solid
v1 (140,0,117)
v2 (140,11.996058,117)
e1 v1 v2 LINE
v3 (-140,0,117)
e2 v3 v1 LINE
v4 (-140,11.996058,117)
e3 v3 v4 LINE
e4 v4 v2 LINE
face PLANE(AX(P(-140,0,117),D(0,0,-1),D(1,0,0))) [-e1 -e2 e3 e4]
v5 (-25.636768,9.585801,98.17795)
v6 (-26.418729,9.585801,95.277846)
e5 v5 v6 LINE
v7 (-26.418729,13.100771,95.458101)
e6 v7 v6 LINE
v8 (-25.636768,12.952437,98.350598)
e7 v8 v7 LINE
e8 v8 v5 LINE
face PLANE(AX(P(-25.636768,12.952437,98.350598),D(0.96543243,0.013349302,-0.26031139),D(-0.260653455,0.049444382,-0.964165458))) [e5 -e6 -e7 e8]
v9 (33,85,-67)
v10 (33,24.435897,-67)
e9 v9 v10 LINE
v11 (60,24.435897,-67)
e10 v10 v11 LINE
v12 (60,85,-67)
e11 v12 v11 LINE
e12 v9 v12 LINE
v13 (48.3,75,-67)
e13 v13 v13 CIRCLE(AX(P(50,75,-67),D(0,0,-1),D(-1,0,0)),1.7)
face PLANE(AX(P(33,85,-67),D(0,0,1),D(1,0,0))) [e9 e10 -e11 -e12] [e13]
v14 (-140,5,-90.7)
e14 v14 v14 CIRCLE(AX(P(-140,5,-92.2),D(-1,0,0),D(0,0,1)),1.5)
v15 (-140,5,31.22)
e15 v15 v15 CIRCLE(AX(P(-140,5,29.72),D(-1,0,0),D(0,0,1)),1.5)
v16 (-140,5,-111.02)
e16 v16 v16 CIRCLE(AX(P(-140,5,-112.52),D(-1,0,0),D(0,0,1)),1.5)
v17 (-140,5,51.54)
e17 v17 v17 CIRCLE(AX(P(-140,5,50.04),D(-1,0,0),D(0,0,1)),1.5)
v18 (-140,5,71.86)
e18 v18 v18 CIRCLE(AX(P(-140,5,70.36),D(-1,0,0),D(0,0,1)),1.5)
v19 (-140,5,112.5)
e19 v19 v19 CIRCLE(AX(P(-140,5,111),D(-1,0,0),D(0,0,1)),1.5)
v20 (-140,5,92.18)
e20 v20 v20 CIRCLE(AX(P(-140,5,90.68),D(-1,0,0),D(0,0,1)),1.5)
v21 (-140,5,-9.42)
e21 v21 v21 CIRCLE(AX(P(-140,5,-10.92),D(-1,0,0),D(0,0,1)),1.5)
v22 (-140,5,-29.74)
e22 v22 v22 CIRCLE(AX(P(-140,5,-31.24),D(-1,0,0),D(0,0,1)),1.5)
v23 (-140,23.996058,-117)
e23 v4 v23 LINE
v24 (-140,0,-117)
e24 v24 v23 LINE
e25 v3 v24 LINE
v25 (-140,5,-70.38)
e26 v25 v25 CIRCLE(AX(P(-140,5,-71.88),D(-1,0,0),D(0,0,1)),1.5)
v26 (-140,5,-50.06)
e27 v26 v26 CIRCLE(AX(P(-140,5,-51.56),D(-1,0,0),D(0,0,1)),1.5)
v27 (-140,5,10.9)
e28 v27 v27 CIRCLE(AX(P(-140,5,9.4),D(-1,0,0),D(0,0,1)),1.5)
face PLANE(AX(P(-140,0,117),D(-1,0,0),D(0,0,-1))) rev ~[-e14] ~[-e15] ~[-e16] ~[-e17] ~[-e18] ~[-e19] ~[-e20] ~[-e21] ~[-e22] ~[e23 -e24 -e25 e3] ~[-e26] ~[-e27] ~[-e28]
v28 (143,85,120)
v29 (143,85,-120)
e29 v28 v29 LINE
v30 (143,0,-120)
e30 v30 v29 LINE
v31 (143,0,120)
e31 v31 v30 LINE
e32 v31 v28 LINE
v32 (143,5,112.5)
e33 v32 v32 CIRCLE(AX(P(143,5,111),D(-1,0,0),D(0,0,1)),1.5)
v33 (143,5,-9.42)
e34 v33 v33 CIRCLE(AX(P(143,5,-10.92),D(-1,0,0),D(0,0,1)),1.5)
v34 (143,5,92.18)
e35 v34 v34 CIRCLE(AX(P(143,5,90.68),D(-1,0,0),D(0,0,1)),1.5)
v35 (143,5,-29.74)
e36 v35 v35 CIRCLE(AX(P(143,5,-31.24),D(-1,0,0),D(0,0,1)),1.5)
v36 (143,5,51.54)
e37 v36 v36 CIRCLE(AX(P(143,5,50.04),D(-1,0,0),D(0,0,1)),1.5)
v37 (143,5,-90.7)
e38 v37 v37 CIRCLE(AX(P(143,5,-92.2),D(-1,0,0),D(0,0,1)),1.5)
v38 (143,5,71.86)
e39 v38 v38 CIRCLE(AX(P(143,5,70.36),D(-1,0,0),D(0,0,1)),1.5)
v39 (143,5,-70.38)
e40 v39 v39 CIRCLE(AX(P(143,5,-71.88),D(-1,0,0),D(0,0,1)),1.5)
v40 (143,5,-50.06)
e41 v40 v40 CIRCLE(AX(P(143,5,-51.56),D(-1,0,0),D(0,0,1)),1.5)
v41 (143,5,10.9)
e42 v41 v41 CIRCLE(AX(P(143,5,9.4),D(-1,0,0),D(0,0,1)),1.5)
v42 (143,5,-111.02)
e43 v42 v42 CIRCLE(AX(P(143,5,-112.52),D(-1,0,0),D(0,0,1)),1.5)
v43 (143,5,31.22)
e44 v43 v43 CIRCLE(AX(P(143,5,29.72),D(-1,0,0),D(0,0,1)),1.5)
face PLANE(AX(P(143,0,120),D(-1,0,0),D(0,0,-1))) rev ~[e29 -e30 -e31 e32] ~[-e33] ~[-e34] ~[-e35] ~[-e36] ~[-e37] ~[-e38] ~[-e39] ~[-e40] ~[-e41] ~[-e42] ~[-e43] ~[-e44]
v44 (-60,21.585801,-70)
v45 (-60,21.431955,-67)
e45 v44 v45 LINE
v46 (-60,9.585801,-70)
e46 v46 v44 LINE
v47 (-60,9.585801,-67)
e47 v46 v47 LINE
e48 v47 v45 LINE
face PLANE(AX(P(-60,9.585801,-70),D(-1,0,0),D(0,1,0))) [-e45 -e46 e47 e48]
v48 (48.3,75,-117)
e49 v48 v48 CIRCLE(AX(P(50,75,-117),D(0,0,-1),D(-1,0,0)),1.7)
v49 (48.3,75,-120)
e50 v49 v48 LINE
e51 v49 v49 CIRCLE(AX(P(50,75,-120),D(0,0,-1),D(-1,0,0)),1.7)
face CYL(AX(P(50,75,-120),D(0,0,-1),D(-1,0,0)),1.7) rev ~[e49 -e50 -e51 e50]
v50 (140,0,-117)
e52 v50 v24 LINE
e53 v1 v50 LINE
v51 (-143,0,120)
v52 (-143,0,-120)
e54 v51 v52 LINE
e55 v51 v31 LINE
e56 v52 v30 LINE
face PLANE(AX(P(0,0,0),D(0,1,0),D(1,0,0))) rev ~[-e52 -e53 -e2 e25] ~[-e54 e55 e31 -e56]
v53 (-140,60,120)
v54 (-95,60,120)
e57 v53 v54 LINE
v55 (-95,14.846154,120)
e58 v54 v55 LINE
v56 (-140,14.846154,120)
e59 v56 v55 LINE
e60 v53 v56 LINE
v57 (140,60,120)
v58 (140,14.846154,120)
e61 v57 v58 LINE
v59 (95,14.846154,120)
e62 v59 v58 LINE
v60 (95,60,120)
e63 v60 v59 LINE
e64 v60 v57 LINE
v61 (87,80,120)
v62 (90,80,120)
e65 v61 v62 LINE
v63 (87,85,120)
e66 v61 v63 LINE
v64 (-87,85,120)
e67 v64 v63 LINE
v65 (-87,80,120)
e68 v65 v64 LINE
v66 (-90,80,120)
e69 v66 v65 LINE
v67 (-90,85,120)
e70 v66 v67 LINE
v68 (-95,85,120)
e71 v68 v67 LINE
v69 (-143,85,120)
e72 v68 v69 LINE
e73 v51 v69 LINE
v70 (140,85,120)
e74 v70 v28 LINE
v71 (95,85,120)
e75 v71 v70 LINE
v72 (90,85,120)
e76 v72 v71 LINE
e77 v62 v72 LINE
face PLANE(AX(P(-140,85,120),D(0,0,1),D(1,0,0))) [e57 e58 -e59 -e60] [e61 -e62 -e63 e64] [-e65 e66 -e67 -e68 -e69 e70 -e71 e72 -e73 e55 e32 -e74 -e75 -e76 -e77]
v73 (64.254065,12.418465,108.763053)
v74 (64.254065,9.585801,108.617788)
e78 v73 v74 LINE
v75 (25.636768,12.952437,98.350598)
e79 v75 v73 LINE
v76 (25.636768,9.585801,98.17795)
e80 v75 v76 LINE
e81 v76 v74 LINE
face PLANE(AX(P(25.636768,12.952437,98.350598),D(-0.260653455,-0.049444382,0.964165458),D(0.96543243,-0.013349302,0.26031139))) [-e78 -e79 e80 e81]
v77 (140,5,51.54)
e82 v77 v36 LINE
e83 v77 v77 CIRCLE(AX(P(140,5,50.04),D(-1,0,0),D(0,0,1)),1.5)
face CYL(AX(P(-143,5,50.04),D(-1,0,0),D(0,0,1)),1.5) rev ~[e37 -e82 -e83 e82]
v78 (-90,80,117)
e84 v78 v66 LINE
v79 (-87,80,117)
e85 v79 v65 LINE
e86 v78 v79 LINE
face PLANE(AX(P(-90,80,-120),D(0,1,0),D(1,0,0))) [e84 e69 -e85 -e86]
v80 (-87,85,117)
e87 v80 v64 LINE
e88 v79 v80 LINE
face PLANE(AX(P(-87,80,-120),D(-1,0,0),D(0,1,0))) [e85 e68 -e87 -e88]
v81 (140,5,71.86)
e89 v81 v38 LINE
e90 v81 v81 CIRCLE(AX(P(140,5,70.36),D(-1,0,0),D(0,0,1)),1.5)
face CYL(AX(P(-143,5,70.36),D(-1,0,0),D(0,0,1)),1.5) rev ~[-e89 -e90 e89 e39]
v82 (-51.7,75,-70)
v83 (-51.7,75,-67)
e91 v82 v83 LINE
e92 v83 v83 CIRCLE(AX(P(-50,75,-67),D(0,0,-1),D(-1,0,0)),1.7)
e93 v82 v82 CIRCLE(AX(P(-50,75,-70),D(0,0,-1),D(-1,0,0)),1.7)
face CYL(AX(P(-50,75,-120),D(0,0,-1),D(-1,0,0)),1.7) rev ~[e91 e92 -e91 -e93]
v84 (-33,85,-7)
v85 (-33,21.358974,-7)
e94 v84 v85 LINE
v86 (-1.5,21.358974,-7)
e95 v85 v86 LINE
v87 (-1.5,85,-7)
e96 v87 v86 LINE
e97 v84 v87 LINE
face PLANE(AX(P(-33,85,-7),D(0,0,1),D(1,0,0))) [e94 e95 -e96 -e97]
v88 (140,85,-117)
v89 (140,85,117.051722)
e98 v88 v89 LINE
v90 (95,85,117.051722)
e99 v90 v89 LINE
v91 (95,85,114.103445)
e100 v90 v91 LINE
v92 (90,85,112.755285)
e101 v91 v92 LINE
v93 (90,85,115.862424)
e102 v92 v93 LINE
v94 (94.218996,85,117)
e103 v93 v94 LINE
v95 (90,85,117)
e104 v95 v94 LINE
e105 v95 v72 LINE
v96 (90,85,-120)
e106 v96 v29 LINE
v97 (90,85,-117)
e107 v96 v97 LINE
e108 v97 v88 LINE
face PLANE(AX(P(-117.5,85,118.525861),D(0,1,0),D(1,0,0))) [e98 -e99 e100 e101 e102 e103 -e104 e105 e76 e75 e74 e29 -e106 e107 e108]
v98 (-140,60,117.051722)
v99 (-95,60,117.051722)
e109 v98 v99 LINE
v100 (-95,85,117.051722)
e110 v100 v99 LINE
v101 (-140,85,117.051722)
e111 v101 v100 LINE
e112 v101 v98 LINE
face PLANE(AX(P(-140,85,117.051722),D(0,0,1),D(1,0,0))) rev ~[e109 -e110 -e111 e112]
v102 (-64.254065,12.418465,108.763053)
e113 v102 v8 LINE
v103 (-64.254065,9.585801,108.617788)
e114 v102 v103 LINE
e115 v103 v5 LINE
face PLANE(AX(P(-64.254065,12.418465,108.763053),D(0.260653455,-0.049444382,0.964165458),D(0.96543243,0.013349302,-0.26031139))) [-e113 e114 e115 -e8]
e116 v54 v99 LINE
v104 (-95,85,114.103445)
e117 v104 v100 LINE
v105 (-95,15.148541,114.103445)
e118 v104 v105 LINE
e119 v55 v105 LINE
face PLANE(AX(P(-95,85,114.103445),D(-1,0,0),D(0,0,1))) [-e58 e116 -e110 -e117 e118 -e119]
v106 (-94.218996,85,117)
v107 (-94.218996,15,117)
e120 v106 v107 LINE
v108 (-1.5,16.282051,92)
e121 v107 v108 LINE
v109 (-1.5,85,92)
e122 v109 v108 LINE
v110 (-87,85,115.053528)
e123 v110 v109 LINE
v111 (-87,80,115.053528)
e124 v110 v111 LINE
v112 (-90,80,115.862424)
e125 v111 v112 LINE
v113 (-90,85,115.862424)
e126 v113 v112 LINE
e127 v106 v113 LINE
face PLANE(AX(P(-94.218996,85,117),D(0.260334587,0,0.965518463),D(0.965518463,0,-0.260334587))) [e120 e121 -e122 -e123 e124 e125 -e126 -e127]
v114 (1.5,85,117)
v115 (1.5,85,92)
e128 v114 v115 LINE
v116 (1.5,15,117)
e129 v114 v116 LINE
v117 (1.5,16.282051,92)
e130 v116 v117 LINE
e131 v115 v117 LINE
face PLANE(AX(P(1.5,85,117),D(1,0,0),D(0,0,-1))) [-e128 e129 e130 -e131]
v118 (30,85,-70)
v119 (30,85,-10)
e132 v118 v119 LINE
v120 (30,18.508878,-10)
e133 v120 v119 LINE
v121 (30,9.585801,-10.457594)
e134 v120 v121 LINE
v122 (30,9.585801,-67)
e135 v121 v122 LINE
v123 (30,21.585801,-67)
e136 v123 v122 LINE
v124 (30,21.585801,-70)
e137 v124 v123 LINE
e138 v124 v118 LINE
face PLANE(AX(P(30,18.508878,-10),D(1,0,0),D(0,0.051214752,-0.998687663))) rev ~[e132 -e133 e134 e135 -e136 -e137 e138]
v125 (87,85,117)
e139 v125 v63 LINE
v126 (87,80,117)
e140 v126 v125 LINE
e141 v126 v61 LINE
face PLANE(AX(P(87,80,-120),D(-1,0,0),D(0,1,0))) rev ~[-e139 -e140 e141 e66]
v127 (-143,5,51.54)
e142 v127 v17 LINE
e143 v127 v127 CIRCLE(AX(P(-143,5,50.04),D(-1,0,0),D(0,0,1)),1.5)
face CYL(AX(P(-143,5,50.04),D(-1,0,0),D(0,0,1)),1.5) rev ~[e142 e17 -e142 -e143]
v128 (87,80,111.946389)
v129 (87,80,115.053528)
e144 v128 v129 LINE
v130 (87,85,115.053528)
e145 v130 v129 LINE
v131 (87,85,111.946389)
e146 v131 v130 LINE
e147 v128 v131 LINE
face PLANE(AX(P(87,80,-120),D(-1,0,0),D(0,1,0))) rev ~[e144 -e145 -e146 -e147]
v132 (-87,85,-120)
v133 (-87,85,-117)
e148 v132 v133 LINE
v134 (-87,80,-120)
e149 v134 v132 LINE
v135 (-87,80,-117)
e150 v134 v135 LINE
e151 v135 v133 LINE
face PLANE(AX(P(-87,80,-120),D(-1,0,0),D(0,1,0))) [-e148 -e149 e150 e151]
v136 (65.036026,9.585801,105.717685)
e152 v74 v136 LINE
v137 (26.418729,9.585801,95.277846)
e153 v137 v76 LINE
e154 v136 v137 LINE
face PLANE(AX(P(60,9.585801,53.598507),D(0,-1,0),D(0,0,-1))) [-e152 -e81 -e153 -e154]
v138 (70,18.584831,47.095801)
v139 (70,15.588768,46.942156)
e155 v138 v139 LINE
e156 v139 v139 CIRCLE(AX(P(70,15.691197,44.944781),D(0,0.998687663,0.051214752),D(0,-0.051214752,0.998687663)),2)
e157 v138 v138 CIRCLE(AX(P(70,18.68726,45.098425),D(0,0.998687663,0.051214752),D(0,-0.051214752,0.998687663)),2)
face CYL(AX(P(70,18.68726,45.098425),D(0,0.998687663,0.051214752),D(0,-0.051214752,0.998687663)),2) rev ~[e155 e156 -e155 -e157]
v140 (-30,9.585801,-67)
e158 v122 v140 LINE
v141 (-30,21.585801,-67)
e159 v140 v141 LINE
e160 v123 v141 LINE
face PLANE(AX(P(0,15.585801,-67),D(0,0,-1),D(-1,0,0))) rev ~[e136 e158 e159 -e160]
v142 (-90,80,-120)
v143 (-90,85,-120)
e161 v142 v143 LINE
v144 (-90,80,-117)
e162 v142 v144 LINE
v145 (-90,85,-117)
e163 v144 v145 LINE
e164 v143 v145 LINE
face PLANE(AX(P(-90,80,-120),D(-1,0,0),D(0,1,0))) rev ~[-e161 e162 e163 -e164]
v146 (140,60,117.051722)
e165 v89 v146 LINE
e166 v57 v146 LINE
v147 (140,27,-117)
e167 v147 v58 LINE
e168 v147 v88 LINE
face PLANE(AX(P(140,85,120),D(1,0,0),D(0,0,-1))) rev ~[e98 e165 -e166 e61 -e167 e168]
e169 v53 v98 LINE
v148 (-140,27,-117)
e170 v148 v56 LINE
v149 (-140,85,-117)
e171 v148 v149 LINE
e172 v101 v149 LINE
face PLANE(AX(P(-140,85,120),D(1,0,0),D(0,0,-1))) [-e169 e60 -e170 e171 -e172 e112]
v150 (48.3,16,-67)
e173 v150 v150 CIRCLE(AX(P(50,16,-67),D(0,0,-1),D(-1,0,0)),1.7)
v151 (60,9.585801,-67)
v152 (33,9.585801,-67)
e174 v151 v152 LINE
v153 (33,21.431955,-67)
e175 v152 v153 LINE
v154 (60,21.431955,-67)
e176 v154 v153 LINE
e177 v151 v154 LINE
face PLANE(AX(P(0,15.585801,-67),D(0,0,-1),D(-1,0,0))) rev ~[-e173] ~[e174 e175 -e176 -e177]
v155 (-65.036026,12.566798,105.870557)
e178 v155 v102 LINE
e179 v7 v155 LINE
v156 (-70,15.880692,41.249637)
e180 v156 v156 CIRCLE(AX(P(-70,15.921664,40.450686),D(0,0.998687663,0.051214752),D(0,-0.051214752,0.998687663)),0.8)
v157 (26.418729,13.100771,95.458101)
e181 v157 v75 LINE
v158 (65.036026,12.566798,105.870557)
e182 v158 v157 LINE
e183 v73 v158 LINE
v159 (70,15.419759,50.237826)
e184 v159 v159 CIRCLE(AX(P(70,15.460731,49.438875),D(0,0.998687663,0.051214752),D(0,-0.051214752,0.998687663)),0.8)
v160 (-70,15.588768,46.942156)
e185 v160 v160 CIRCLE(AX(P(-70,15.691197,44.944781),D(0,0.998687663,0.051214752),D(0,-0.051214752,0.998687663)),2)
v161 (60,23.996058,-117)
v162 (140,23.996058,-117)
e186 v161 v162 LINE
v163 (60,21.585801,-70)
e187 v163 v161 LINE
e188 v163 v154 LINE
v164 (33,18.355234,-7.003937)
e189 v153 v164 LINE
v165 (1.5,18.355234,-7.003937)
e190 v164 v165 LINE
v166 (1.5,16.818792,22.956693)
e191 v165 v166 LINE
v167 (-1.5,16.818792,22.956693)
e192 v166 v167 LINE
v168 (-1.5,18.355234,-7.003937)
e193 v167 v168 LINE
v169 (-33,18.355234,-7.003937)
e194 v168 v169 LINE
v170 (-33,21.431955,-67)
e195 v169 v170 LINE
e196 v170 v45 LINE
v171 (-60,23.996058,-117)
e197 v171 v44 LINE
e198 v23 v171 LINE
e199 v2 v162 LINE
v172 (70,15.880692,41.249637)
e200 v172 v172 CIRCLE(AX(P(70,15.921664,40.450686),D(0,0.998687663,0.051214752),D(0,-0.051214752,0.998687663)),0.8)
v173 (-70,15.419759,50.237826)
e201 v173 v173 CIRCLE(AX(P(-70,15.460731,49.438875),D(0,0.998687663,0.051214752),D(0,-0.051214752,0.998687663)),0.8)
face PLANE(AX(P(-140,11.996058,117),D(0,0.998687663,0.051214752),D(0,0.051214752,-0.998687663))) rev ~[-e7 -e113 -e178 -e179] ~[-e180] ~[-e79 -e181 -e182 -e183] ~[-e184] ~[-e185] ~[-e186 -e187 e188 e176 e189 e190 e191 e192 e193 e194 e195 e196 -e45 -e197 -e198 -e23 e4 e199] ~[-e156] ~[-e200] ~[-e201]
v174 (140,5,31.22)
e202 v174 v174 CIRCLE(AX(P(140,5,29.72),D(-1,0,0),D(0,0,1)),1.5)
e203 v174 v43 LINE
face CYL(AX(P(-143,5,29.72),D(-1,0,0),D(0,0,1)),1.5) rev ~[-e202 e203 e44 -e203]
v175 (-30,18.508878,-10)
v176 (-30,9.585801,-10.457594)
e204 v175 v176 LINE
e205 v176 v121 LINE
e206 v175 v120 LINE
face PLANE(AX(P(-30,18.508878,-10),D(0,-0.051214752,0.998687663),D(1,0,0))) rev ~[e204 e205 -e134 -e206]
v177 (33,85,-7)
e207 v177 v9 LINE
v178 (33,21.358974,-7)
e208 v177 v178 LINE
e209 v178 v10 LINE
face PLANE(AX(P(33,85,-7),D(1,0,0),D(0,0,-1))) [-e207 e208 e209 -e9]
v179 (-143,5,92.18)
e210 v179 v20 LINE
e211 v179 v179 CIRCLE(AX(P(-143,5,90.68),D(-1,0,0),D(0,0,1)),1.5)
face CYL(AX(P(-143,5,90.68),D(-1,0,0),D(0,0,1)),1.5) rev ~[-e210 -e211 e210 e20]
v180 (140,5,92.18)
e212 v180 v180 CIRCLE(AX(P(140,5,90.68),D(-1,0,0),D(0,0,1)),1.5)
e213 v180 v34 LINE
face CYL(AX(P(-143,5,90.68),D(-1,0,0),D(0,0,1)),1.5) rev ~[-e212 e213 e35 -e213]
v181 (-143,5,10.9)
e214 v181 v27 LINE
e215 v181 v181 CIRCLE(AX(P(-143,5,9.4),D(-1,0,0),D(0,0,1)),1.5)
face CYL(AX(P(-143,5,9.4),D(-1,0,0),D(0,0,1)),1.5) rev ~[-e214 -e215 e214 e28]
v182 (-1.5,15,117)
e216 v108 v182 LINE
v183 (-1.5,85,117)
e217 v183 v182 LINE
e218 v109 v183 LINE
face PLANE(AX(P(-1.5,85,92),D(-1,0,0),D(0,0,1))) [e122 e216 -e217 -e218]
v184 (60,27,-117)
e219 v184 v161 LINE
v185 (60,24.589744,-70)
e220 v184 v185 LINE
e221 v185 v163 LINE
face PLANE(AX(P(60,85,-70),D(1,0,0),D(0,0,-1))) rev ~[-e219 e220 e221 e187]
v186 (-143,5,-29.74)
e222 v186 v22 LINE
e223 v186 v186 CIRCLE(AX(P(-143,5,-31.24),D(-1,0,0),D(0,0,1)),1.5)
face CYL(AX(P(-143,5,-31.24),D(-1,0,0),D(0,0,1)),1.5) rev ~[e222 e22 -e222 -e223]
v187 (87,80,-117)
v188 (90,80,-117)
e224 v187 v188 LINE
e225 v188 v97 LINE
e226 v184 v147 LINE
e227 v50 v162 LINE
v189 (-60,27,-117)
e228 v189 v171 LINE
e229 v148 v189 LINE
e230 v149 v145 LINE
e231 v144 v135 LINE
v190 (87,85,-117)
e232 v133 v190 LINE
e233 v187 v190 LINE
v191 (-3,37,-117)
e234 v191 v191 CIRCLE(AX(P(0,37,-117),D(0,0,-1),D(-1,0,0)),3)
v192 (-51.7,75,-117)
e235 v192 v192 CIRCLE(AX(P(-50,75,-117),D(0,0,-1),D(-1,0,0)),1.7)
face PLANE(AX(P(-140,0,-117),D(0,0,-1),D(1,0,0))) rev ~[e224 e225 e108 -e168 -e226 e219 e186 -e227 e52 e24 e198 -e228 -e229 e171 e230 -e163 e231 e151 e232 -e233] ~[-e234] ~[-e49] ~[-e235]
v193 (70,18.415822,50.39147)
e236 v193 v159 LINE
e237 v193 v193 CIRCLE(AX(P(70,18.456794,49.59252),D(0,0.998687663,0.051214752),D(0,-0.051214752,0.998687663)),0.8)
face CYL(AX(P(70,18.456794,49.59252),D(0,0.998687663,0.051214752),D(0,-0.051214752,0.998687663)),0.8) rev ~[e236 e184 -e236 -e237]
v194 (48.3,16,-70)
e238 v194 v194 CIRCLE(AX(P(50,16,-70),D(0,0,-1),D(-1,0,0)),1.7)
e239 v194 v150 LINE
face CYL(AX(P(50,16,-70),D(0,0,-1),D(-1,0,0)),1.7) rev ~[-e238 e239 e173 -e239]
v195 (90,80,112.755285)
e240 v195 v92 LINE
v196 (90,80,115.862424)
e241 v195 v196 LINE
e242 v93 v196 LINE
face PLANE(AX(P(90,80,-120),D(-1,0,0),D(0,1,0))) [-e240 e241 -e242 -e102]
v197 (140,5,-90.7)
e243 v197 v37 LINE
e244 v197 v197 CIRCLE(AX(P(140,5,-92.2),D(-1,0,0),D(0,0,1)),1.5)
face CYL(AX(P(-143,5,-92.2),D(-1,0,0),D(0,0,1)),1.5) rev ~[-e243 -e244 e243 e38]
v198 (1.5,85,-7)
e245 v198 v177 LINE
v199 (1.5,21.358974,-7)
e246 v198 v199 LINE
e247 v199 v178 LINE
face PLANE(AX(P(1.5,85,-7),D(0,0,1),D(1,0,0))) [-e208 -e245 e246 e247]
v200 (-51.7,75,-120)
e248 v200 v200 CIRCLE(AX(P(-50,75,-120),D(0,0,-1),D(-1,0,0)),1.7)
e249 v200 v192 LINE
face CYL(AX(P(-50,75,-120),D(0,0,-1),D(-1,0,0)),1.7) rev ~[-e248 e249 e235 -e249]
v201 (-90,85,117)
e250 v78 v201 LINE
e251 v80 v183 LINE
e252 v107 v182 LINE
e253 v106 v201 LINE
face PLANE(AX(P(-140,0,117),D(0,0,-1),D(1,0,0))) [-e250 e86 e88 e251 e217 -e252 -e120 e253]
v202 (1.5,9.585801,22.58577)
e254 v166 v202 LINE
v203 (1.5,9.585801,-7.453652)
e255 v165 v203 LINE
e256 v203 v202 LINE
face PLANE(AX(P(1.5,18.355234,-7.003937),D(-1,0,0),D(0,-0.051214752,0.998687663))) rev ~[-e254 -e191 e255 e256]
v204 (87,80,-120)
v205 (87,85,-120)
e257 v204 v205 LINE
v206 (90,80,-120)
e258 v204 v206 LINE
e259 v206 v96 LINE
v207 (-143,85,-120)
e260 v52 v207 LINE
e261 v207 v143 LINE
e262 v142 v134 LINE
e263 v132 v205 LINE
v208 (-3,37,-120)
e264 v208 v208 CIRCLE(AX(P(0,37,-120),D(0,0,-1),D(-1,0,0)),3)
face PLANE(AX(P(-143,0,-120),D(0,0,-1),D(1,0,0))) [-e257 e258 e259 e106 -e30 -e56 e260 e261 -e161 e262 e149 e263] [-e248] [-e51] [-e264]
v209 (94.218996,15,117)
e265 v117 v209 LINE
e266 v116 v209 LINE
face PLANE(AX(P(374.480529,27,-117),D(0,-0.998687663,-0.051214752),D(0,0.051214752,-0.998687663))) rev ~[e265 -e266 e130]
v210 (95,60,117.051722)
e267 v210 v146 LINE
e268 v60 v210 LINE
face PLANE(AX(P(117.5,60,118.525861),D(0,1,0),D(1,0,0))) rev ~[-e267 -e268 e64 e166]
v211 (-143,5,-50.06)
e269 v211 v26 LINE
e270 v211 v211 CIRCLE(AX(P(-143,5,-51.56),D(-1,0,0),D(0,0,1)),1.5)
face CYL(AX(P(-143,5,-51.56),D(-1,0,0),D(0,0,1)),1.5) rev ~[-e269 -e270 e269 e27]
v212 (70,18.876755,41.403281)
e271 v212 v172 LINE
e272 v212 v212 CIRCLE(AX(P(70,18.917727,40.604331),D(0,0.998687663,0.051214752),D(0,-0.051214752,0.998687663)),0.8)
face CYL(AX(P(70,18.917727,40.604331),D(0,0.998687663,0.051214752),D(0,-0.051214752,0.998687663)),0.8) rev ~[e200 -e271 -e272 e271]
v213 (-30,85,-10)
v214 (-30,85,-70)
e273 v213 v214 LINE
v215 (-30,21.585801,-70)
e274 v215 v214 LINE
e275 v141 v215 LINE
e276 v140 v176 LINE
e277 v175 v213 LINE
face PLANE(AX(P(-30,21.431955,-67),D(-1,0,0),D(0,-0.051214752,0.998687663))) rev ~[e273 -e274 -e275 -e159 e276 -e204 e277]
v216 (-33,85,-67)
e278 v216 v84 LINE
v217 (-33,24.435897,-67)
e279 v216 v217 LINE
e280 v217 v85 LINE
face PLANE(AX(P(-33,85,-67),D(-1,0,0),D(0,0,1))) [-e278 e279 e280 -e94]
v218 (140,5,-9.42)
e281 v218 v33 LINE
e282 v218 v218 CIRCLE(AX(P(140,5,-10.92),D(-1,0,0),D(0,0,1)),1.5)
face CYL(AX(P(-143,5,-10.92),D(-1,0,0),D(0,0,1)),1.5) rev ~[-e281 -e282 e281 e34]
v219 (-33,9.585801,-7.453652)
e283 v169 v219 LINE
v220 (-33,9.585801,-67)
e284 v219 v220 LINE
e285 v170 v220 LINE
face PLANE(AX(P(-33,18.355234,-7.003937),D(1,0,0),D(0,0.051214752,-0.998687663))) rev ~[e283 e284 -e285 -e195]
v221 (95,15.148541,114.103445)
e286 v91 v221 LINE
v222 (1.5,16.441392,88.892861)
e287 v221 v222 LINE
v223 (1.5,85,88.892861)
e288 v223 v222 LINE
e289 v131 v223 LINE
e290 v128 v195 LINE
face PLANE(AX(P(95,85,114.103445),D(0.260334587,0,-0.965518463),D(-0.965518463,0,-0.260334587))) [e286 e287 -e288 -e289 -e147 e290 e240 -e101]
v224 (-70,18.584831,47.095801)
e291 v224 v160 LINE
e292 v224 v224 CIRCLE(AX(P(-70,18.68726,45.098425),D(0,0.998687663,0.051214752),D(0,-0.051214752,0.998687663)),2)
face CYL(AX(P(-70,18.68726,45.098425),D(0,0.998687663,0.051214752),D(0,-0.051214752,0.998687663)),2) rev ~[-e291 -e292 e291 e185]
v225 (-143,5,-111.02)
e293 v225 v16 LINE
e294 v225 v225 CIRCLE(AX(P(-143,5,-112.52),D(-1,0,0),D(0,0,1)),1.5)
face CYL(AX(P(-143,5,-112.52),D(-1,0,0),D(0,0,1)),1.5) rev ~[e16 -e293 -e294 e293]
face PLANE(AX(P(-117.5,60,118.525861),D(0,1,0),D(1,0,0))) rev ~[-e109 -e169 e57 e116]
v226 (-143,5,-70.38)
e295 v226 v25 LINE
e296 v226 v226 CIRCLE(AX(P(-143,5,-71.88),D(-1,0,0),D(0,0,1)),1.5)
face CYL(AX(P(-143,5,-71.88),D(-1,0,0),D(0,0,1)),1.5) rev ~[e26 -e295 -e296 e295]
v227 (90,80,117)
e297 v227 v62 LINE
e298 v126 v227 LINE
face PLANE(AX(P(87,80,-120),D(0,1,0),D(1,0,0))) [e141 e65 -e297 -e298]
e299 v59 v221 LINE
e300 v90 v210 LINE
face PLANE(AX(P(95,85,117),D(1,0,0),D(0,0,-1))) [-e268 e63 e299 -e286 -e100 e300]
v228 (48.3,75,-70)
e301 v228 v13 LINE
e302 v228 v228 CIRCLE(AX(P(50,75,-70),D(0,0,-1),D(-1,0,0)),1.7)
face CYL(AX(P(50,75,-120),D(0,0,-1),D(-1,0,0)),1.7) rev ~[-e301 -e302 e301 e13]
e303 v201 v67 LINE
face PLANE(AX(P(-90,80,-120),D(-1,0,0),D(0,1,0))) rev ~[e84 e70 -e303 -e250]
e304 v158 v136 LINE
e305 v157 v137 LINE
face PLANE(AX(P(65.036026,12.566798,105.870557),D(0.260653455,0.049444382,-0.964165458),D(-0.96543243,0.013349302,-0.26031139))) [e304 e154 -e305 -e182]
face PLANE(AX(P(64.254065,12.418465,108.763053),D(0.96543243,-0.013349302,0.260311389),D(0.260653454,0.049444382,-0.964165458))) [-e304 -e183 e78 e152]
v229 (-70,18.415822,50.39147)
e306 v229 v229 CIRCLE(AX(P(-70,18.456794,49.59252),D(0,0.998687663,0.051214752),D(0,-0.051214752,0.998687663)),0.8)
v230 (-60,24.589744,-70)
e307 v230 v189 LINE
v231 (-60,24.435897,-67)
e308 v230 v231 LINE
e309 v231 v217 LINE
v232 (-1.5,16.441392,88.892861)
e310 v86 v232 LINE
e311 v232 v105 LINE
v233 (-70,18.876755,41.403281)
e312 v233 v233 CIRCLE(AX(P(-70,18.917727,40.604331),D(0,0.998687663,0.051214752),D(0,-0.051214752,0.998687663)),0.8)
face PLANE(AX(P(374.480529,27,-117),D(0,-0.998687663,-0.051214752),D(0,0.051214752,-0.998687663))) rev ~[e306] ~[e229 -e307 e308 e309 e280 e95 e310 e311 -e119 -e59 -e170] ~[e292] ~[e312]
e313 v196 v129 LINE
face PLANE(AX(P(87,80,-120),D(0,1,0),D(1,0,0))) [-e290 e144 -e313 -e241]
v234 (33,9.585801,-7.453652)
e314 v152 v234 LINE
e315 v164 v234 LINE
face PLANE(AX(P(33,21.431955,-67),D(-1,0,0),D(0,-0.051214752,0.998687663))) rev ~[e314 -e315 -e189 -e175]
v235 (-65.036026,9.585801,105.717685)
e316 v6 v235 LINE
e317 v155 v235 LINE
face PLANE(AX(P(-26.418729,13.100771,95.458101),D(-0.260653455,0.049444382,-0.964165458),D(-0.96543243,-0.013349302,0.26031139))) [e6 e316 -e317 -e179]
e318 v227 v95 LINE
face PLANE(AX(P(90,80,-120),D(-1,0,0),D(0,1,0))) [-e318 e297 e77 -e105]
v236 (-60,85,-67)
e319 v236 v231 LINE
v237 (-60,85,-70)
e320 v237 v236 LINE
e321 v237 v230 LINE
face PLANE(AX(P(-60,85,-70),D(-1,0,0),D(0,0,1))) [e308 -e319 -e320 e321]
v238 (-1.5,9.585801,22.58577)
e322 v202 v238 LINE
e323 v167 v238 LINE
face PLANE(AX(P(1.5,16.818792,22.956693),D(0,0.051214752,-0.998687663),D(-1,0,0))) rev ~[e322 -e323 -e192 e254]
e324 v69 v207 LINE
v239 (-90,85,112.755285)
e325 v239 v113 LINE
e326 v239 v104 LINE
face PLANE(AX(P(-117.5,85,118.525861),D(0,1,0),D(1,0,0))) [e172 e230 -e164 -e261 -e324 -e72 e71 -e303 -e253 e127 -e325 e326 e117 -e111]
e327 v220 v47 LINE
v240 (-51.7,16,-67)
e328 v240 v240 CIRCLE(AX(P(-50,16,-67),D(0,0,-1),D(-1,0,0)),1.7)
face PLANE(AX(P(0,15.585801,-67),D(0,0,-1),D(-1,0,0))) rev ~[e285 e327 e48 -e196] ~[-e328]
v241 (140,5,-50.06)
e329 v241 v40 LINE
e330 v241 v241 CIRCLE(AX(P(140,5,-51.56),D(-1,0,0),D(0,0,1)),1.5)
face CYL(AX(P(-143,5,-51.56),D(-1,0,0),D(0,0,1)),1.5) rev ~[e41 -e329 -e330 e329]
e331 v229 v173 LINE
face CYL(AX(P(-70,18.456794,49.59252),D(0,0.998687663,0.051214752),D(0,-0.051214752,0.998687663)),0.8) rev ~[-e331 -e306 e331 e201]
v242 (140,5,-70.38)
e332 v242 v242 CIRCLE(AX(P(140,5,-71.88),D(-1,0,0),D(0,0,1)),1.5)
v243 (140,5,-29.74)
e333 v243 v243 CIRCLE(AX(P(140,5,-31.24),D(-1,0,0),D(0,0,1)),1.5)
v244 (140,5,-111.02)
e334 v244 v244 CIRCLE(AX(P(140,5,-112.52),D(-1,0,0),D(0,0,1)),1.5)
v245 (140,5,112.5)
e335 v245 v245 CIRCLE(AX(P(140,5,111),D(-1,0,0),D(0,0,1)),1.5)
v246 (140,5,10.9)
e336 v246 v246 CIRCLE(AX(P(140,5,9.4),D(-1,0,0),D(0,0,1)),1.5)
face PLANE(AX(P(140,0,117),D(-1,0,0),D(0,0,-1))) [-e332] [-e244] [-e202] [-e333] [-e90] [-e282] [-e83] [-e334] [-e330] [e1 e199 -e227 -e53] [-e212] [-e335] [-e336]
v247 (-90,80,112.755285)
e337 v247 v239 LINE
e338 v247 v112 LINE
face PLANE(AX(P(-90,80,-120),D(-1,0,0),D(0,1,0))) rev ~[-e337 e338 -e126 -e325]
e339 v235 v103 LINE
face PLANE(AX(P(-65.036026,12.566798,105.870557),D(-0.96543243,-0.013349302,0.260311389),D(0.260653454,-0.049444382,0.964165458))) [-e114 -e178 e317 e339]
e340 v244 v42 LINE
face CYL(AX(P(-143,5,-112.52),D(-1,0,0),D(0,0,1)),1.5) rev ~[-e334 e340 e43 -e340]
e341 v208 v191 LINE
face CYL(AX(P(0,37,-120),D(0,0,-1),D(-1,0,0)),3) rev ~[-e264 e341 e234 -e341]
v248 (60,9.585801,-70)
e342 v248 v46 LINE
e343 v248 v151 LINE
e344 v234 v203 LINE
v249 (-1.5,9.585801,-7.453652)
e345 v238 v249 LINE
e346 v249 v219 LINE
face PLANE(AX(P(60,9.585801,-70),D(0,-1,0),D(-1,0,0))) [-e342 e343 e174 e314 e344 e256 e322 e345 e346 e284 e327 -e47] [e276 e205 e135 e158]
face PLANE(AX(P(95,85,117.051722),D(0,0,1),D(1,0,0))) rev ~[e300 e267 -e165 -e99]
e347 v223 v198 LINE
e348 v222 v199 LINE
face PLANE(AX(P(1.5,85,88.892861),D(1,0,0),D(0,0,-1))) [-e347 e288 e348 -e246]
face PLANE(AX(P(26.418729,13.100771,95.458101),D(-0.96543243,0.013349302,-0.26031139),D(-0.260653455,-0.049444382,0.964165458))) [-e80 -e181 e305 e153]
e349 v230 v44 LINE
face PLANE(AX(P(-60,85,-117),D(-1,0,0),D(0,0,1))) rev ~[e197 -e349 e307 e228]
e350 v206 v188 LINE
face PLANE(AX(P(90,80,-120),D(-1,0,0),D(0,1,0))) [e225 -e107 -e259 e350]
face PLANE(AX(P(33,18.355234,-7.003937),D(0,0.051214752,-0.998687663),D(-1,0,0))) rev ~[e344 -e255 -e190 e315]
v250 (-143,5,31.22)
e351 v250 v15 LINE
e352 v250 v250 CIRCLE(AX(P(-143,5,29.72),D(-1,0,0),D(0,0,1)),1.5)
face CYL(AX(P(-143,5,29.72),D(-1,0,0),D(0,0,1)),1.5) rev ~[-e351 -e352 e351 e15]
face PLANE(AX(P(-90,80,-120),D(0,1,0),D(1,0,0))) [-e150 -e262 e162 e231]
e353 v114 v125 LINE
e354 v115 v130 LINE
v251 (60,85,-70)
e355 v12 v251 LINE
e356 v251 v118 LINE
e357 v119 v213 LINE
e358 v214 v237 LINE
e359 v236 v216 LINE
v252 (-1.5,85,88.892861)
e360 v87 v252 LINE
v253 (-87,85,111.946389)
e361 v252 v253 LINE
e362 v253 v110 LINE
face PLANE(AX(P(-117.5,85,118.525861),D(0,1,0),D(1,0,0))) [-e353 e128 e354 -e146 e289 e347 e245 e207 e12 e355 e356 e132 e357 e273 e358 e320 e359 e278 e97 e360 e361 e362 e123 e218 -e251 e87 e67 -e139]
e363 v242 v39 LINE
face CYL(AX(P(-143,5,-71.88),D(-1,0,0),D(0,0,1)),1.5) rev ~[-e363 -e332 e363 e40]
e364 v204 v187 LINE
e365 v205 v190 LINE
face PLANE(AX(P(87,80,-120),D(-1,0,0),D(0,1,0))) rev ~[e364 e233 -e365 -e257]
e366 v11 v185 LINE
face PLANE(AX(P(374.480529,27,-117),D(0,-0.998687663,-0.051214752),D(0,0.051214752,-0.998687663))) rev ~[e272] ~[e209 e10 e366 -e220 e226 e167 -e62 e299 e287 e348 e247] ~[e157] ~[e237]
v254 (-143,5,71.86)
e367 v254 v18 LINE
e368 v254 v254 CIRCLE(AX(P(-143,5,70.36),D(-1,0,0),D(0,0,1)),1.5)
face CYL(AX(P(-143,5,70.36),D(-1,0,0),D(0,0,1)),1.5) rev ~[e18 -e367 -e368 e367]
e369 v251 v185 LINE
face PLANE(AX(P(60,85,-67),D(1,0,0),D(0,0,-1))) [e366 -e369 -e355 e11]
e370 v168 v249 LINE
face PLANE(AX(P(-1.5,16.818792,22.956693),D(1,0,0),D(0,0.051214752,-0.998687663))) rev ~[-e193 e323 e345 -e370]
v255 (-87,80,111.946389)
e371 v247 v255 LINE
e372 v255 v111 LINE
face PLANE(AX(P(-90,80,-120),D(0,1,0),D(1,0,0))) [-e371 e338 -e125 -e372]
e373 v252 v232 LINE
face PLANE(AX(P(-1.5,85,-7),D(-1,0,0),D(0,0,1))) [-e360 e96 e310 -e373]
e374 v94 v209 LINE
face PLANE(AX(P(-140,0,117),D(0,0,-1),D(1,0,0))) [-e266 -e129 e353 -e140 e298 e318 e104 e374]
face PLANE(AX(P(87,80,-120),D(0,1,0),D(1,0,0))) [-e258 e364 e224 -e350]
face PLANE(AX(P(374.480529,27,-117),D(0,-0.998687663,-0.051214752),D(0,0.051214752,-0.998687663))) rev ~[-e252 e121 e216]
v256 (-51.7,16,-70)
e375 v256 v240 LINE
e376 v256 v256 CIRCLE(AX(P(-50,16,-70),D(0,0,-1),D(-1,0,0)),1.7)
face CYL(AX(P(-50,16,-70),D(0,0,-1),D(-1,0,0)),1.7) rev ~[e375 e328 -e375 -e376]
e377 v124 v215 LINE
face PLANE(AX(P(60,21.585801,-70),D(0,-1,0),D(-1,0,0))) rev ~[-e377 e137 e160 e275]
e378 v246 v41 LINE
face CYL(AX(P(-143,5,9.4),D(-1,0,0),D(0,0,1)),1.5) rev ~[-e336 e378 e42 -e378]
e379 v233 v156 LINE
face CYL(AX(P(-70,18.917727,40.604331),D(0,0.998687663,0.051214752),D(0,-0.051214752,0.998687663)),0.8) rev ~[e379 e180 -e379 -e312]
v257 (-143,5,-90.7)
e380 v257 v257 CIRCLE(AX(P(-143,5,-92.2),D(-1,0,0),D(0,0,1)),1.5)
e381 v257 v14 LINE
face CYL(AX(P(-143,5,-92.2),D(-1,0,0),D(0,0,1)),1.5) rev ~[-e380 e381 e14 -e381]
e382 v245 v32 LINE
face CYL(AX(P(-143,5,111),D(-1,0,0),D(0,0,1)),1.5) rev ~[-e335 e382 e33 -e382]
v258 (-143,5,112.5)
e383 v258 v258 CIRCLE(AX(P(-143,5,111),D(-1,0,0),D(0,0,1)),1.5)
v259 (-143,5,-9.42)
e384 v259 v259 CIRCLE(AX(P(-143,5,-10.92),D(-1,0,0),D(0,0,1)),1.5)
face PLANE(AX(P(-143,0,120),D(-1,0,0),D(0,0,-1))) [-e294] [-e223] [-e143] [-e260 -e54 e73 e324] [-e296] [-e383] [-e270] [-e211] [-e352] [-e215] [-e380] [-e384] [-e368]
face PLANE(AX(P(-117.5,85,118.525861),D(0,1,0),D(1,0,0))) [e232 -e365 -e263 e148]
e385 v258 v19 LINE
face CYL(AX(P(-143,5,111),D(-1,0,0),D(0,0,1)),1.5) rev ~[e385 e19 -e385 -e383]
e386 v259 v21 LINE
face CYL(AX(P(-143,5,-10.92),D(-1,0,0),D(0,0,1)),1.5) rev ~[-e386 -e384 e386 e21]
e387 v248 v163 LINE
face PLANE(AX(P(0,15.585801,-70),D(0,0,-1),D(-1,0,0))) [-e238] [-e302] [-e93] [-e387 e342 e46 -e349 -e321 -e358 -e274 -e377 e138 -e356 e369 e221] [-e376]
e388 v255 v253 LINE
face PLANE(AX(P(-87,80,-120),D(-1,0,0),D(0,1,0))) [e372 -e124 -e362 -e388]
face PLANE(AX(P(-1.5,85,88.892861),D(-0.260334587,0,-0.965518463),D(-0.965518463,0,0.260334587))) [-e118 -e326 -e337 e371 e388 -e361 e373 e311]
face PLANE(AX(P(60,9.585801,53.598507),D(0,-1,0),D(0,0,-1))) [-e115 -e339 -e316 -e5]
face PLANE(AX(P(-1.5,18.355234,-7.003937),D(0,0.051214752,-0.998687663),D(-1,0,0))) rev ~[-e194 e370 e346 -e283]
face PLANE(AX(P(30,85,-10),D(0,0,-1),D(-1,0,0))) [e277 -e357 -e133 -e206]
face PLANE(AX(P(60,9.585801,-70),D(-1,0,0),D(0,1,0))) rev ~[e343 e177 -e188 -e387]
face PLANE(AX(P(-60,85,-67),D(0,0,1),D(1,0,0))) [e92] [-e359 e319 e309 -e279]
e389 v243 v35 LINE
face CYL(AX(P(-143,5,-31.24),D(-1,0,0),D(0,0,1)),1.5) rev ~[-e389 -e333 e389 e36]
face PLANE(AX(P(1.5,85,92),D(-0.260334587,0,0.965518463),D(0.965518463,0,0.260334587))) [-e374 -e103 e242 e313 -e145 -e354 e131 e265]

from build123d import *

# Parameters (mm, degrees)
SKETCH_1_W             = 286
SKETCH_1_H             = 240
SKETCH_1_W_2           = 280
SKETCH_1_H_2           = 234
EXTRUDE_1_DEPTH        = 85
EXTRUDE_2_DEPTH        = 280
CUT_EXTRUDE_1_REACH    = 207.119
SKETCH_3_W             = 45
SKETCH_3_H             = 3
CUT_EXTRUDE_2_DEPTH    = 206.119477378
EXTRUDE_3_REACH        = 207.119
SKETCH_7_W             = 45
SKETCH_7_H             = 2.948277695
EXTRUDE_4_DEPTH        = 25
SKETCH_8_W             = 120
SKETCH_8_H             = 12
EXTRUDE_5_DEPTH        = 3
CUT_EXTRUDE_3_REACH    = 294.017
SKETCH_9_R             = 1.7
SKETCH_9_R_2           = 3
CUT_EXTRUDE_4_REACH    = 254.535
SKETCH_10_R            = 1.7
SKETCH_11_R            = 1.5
CUT_EXTRUDE_5_DEPTH    = 322.591355605
PATTERN_LINEAR_1_COUNT = 12
PATTERN_LINEAR_1_PITCH = 20.32
EXTRUDE_6_REACH        = 200.914
CUT_EXTRUDE_7_REACH    = 306.054
SKETCH_17_W            = 3
SKETCH_17_H            = 5
CUT_EXTRUDE_8_REACH    = 200.018
SKETCH_18_R            = 2
SKETCH_18_R_2          = 0.8


with BuildPart() as part:
    # 草图1 → 凸台-拉伸1 (new body)
    with BuildSketch(Plane(origin=(0, 0, 0), x_dir=(1, 0, 0), z_dir=(0, 1, 0))):
        Rectangle(SKETCH_1_W, SKETCH_1_H)
        Rectangle(SKETCH_1_W_2, SKETCH_1_H_2, mode=Mode.SUBTRACT)
    extrude(amount=EXTRUDE_1_DEPTH)

    # 草图2 → 凸台-拉伸2 (add)
    with BuildSketch(Plane(origin=(-140, 0, 0), x_dir=(0, 0, -1), z_dir=(1, 0, 0))):
        Polygon((117, 27), (-117, 15), (-117, 11.996057817), (117, 23.996057817), align=None)
    extrude(amount=EXTRUDE_2_DEPTH)

    # 切除-拉伸1: up to this plane
    cut_extrude_1_end = Plane(origin=(374.480528575, 27, -117), z_dir=(0, -0.9986876634765887, -0.051214751973158404))
    # 草图3 → 切除-拉伸1 (cut, up to the surface)
    with BuildSketch(Plane(origin=(0, 85, 0), x_dir=(1, 0, 0), z_dir=(0, 1, 0)), mode=Mode.PRIVATE) as cut_extrude_1_sk1:
        with Locations((-117.5, -118.5)):
            Rectangle(SKETCH_3_W, SKETCH_3_H)
    cut_extrude_1_tool1 = split(extrude(cut_extrude_1_sk1.sketch, amount=-CUT_EXTRUDE_1_REACH, mode=Mode.PRIVATE), bisect_by=cut_extrude_1_end, keep=Keep.BOTH, mode=Mode.PRIVATE)
    add(cut_extrude_1_tool1.solids().sort_by_distance((-117.5, 85, 118.5))[0], mode=Mode.SUBTRACT)
    # 草图3 → 切除-拉伸1 (cut, up to the surface)
    with BuildSketch(Plane(origin=(0, 85, 0), x_dir=(1, 0, 0), z_dir=(0, 1, 0)), mode=Mode.PRIVATE) as cut_extrude_1_sk2:
        with Locations((117.5, -118.5)):
            Rectangle(SKETCH_3_W, SKETCH_3_H)
    cut_extrude_1_tool2 = split(extrude(cut_extrude_1_sk2.sketch, amount=-CUT_EXTRUDE_1_REACH, mode=Mode.PRIVATE), bisect_by=cut_extrude_1_end, keep=Keep.BOTH, mode=Mode.PRIVATE)
    add(cut_extrude_1_tool2.solids().sort_by_distance((117.5, 85, 118.5))[0], mode=Mode.SUBTRACT)

    # 草图5 → 切除-拉伸2 (cut, through all)
    with BuildSketch(Plane(origin=(0, 85, 0), x_dir=(1, 0, 0), z_dir=(0, 1, 0))):
        Polygon((-60, 117), (-60, 70), (-30, 70), (-30, 10), (30, 10), (30, 70), (60, 70), (60, 117), align=None)
    extrude(amount=-CUT_EXTRUDE_2_DEPTH, mode=Mode.SUBTRACT)

    # 凸台-拉伸3: up to this plane
    extrude_3_end = Plane(origin=(374.480528575, 27, -117), z_dir=(0, -0.9986876634765887, -0.051214751973158404))
    # 草图6 → 凸台-拉伸3 (add, up to the surface)
    with BuildSketch(Plane(origin=(0, 85, 0), x_dir=(1, 0, 0), z_dir=(0, 1, 0)), mode=Mode.PRIVATE) as extrude_3_sk1:
        Polygon((-33, 67), (-33, 7), (-1.5, 7), (-1.5, -88.892861075), (-95, -114.10344461), (-95, -117), (-94.218996239, -117), (-1.5, -92), (-1.5, -117), (1.5, -117), (1.5, -92), (94.218996239, -117), (95, -117), (95, -114.10344461), (1.5, -88.892861075), (1.5, 7), (33, 7), (33, 67), (60, 67), (60, 70), (30, 70), (30, 10), (-30, 10), (-30, 70), (-60, 70), (-60, 67), align=None)
    extrude_3_tool1 = split(extrude(extrude_3_sk1.sketch, amount=-EXTRUDE_3_REACH, mode=Mode.PRIVATE), bisect_by=extrude_3_end, keep=Keep.BOTH, mode=Mode.PRIVATE)
    add(extrude_3_tool1.solids().sort_by_distance((0, 85, 31.764205))[0])

    # 草图7 → 凸台-拉伸4 (add)
    with BuildSketch(Plane(origin=(0, 85, 0), x_dir=(1, 0, 0), z_dir=(0, 1, 0))):
        with Locations((-117.5, -118.525861153)):
            Rectangle(SKETCH_7_W, SKETCH_7_H)
        with Locations((117.5, -118.525861153)):
            Rectangle(SKETCH_7_W, SKETCH_7_H)
    extrude(amount=-EXTRUDE_4_DEPTH)

    # 草图8 → 凸台-拉伸5 (add)
    with BuildSketch(Plane(origin=(0, 0, -70), x_dir=(-1, 0, 0), z_dir=(0, 0, -1))):
        with Locations((0, 15.585801407)):
            Rectangle(SKETCH_8_W, SKETCH_8_H)
    extrude(amount=-EXTRUDE_5_DEPTH)

    # 切除-拉伸3: up to this face of the body (flat: up to its plane)
    cut_extrude_3_end = Plane(part.part.faces().sort_by_distance((-46.5, 54.717948718, -67))[0])
    # 草图9 → 切除-拉伸3 (cut, up to the picked face)
    with BuildSketch(Plane(origin=(0, 0, -120), x_dir=(-1, 0, 0), z_dir=(0, 0, -1)), mode=Mode.PRIVATE) as cut_extrude_3_sk1:
        with Locations((-50, 75)):
            Circle(SKETCH_9_R)
    cut_extrude_3_tool1 = split(extrude(cut_extrude_3_sk1.sketch, amount=-CUT_EXTRUDE_3_REACH, mode=Mode.PRIVATE), bisect_by=cut_extrude_3_end, keep=Keep.BOTH, mode=Mode.PRIVATE)
    # 草图9 → 切除-拉伸3 (cut, up to the picked face)
    with BuildSketch(Plane(origin=(0, 0, -120), x_dir=(-1, 0, 0), z_dir=(0, 0, -1)), mode=Mode.PRIVATE) as cut_extrude_3_sk2:
        with Locations((50, 75)):
            Circle(SKETCH_9_R)
    cut_extrude_3_tool2 = split(extrude(cut_extrude_3_sk2.sketch, amount=-CUT_EXTRUDE_3_REACH, mode=Mode.PRIVATE), bisect_by=cut_extrude_3_end, keep=Keep.BOTH, mode=Mode.PRIVATE)
    # 草图9 → 切除-拉伸3 (cut, up to the picked face)
    with BuildSketch(Plane(origin=(0, 0, -120), x_dir=(-1, 0, 0), z_dir=(0, 0, -1)), mode=Mode.PRIVATE) as cut_extrude_3_sk3:
        with Locations((0, 37)):
            Circle(SKETCH_9_R_2)
    cut_extrude_3_tool3 = split(extrude(cut_extrude_3_sk3.sketch, amount=-CUT_EXTRUDE_3_REACH, mode=Mode.PRIVATE), bisect_by=cut_extrude_3_end, keep=Keep.BOTH, mode=Mode.PRIVATE)
    add(cut_extrude_3_tool1.solids().sort_by(Axis((50, 75, -120), (0, 0, 1)))[0], mode=Mode.SUBTRACT)
    add(cut_extrude_3_tool2.solids().sort_by(Axis((-50, 75, -120), (0, 0, 1)))[0], mode=Mode.SUBTRACT)
    add(cut_extrude_3_tool3.solids().sort_by(Axis((0, 37, -120), (0, 0, 1)))[0], mode=Mode.SUBTRACT)

    # 草图10 → 切除-拉伸4 (cut, up to next)
    with BuildSketch(Plane(origin=(0, 0, -70), x_dir=(-1, 0, 0), z_dir=(0, 0, -1)), mode=Mode.PRIVATE) as cut_extrude_4_sk1:
        with Locations((-50, 16)):
            Circle(SKETCH_10_R)
    cut_extrude_4_tool1 = extrude(cut_extrude_4_sk1.sketch, amount=-CUT_EXTRUDE_4_REACH, mode=Mode.PRIVATE) & part.part
    # 草图10 → 切除-拉伸4 (cut, up to next)
    with BuildSketch(Plane(origin=(0, 0, -70), x_dir=(-1, 0, 0), z_dir=(0, 0, -1)), mode=Mode.PRIVATE) as cut_extrude_4_sk2:
        with Locations((50, 16)):
            Circle(SKETCH_10_R)
    cut_extrude_4_tool2 = extrude(cut_extrude_4_sk2.sketch, amount=-CUT_EXTRUDE_4_REACH, mode=Mode.PRIVATE) & part.part
    add(cut_extrude_4_tool1.solids().sort_by_distance((50, 16, -70))[0], mode=Mode.SUBTRACT)
    add(cut_extrude_4_tool2.solids().sort_by_distance((-50, 16, -70))[0], mode=Mode.SUBTRACT)

    # 草图11 → 切除-拉伸5 (cut, through all)
    with BuildSketch(Plane.ZY.offset(143)):
        with Locations((111, 5)):
            Circle(SKETCH_11_R)
    cut_extrude_5 = extrude(amount=-CUT_EXTRUDE_5_DEPTH, mode=Mode.SUBTRACT)

    # 阵列(线性)1: 切除-拉伸5 ×12
    with Locations(*[(0, 0, -i * PATTERN_LINEAR_1_PITCH) for i in range(1, PATTERN_LINEAR_1_COUNT)]):
        add(cut_extrude_5, mode=Mode.SUBTRACT)

    # 凸台-拉伸6: up to this plane
    extrude_6_end = Plane(origin=(60, 9.585801407, 53.598507453), z_dir=(0, -1, 0))
    # 草图12 → 凸台-拉伸6 (add, up to the surface)
    with BuildSketch(Plane(origin=(0, 17.948855042, 0.920454105), x_dir=(1, 0, 0), z_dir=(0, -0.9986876634765887, -0.051214751973158466)), mode=Mode.PRIVATE) as extrude_6_sk1:
        Polygon((-30, -68.009705726), (-30, -10.934804248), (30, -10.934804248), (30, -68.009705726), (33, -68.009705726), (33, -7.934804248), (1.5, -7.934804248), (1.5, 22.065195752), (-1.5, 22.065195752), (-1.5, -7.934804248), (-33, -7.934804248), (-33, -68.009705726), align=None)
    extrude_6_tool1 = split(extrude(extrude_6_sk1.sketch, amount=EXTRUDE_6_REACH, mode=Mode.PRIVATE), bisect_by=extrude_6_end, keep=Keep.BOTH, mode=Mode.PRIVATE)
    add(extrude_6_tool1.solids().sort_by_distance((-31.116669, 19.970417, -38.5))[0])
    # 草图12 → 凸台-拉伸6 (add, up to the surface)
    with BuildSketch(Plane(origin=(0, 17.948855042, 0.920454105), x_dir=(1, 0, 0), z_dir=(0, -0.9986876634765887, -0.051214751973158466)), mode=Mode.PRIVATE) as extrude_6_sk2:
        Polygon((-64.254065455, 107.984310804), (-25.63676826, 97.558172621), (-26.418728624, 94.661875331), (-65.036025818, 105.088013514), align=None)
    extrude_6_tool2 = split(extrude(extrude_6_sk2.sketch, amount=EXTRUDE_6_REACH, mode=Mode.PRIVATE), bisect_by=extrude_6_end, keep=Keep.BOTH, mode=Mode.PRIVATE)
    add(extrude_6_tool2.solids().sort_by_distance((-45.336397, 12.759618, 102.110577))[0])
    # 草图12 → 凸台-拉伸6 (add, up to the surface)
    with BuildSketch(Plane(origin=(0, 17.948855042, 0.920454105), x_dir=(1, 0, 0), z_dir=(0, -0.9986876634765887, -0.051214751973158466)), mode=Mode.PRIVATE) as extrude_6_sk3:
        Polygon((25.63676826, 97.558172621), (64.254065455, 107.984310804), (65.036025818, 105.088013514), (26.418728624, 94.661875331), align=None)
    extrude_6_tool3 = split(extrude(extrude_6_sk3.sketch, amount=EXTRUDE_6_REACH, mode=Mode.PRIVATE), bisect_by=extrude_6_end, keep=Keep.BOTH, mode=Mode.PRIVATE)
    add(extrude_6_tool3.solids().sort_by_distance((45.336397, 12.759618, 102.110577))[0])

    # 切除-拉伸7: up to this face of the body (flat: up to its plane)
    cut_extrude_7_end = Plane(part.part.faces().sort_by_distance((0, 43.519049567, 120))[0])
    # 草图17 → 切除-拉伸7 (cut, up to the picked face)
    with BuildSketch(Plane(origin=(0, -35, -120), x_dir=(1, 0, 0), z_dir=(0, 0, 1)), mode=Mode.PRIVATE) as cut_extrude_7_sk1:
        with Locations((88.5, 117.5)):
            Rectangle(SKETCH_17_W, SKETCH_17_H)
    cut_extrude_7_tool1 = split(extrude(cut_extrude_7_sk1.sketch, amount=CUT_EXTRUDE_7_REACH, mode=Mode.PRIVATE), bisect_by=cut_extrude_7_end, keep=Keep.BOTH, mode=Mode.PRIVATE)
    # 草图17 → 切除-拉伸7 (cut, up to the picked face)
    with BuildSketch(Plane(origin=(0, -35, -120), x_dir=(1, 0, 0), z_dir=(0, 0, 1)), mode=Mode.PRIVATE) as cut_extrude_7_sk2:
        with Locations((-88.5, 117.5)):
            Rectangle(SKETCH_17_W, SKETCH_17_H)
    cut_extrude_7_tool2 = split(extrude(cut_extrude_7_sk2.sketch, amount=CUT_EXTRUDE_7_REACH, mode=Mode.PRIVATE), bisect_by=cut_extrude_7_end, keep=Keep.BOTH, mode=Mode.PRIVATE)
    add(cut_extrude_7_tool1.solids().sort_by(Axis((88.5, 82.5, -120), (0, 0, 1)))[0], mode=Mode.SUBTRACT)
    add(cut_extrude_7_tool2.solids().sort_by(Axis((-88.5, 82.5, -120), (0, 0, 1)))[0], mode=Mode.SUBTRACT)

    # 草图18 → 切除-拉伸8 (cut, up to next)
    with BuildSketch(Plane(origin=(0, 20.944918033, 1.074098361), x_dir=(1, 0, 0), z_dir=(0, 0.9986876634765887, 0.0512147519731584)), mode=Mode.PRIVATE) as cut_extrude_8_sk1:
        with Locations(Location((-70, -44.08217753, 0), (0, 0, 270))):
            Circle(SKETCH_18_R)
    cut_extrude_8_tool1 = extrude(cut_extrude_8_sk1.sketch, amount=-CUT_EXTRUDE_8_REACH, mode=Mode.PRIVATE) & part.part
    # 草图18 → 切除-拉伸8 (cut, up to next)
    with BuildSketch(Plane(origin=(0, 20.944918033, 1.074098361), x_dir=(1, 0, 0), z_dir=(0, 0.9986876634765887, 0.0512147519731584)), mode=Mode.PRIVATE) as cut_extrude_8_sk2:
        with Locations(Location((-70, -39.58217753, 0), (0, 0, 270))):
            Circle(SKETCH_18_R_2)
    cut_extrude_8_tool2 = extrude(cut_extrude_8_sk2.sketch, amount=-CUT_EXTRUDE_8_REACH, mode=Mode.PRIVATE) & part.part
    # 草图18 → 切除-拉伸8 (cut, up to next)
    with BuildSketch(Plane(origin=(0, 20.944918033, 1.074098361), x_dir=(1, 0, 0), z_dir=(0, 0.9986876634765887, 0.0512147519731584)), mode=Mode.PRIVATE) as cut_extrude_8_sk3:
        with Locations(Location((-70, -48.58217753, 0), (0, 0, 270))):
            Circle(SKETCH_18_R_2)
    cut_extrude_8_tool3 = extrude(cut_extrude_8_sk3.sketch, amount=-CUT_EXTRUDE_8_REACH, mode=Mode.PRIVATE) & part.part
    # 草图18 → 切除-拉伸8 (cut, up to next)
    with BuildSketch(Plane(origin=(0, 20.944918033, 1.074098361), x_dir=(1, 0, 0), z_dir=(0, 0.9986876634765887, 0.0512147519731584)), mode=Mode.PRIVATE) as cut_extrude_8_sk4:
        with Locations(Location((70, -48.58217753, 0), (0, 0, 270))):
            Circle(SKETCH_18_R_2)
    cut_extrude_8_tool4 = extrude(cut_extrude_8_sk4.sketch, amount=-CUT_EXTRUDE_8_REACH, mode=Mode.PRIVATE) & part.part
    # 草图18 → 切除-拉伸8 (cut, up to next)
    with BuildSketch(Plane(origin=(0, 20.944918033, 1.074098361), x_dir=(1, 0, 0), z_dir=(0, 0.9986876634765887, 0.0512147519731584)), mode=Mode.PRIVATE) as cut_extrude_8_sk5:
        with Locations(Location((70, -39.58217753, 0), (0, 0, 270))):
            Circle(SKETCH_18_R_2)
    cut_extrude_8_tool5 = extrude(cut_extrude_8_sk5.sketch, amount=-CUT_EXTRUDE_8_REACH, mode=Mode.PRIVATE) & part.part
    # 草图18 → 切除-拉伸8 (cut, up to next)
    with BuildSketch(Plane(origin=(0, 20.944918033, 1.074098361), x_dir=(1, 0, 0), z_dir=(0, 0.9986876634765887, 0.0512147519731584)), mode=Mode.PRIVATE) as cut_extrude_8_sk6:
        with Locations(Location((70, -44.08217753, 0), (0, 0, 270))):
            Circle(SKETCH_18_R)
    cut_extrude_8_tool6 = extrude(cut_extrude_8_sk6.sketch, amount=-CUT_EXTRUDE_8_REACH, mode=Mode.PRIVATE) & part.part
    add(cut_extrude_8_tool1.solids().sort_by_distance((-70, 18.68726, 45.098425))[0], mode=Mode.SUBTRACT)
    add(cut_extrude_8_tool2.solids().sort_by_distance((-70, 18.917727, 40.604331))[0], mode=Mode.SUBTRACT)
    add(cut_extrude_8_tool3.solids().sort_by_distance((-70, 18.456794, 49.59252))[0], mode=Mode.SUBTRACT)
    add(cut_extrude_8_tool4.solids().sort_by_distance((70, 18.456794, 49.59252))[0], mode=Mode.SUBTRACT)
    add(cut_extrude_8_tool5.solids().sort_by_distance((70, 18.917727, 40.604331))[0], mode=Mode.SUBTRACT)
    add(cut_extrude_8_tool6.solids().sort_by_distance((70, 18.68726, 45.098425))[0], mode=Mode.SUBTRACT)


solid = part.part
